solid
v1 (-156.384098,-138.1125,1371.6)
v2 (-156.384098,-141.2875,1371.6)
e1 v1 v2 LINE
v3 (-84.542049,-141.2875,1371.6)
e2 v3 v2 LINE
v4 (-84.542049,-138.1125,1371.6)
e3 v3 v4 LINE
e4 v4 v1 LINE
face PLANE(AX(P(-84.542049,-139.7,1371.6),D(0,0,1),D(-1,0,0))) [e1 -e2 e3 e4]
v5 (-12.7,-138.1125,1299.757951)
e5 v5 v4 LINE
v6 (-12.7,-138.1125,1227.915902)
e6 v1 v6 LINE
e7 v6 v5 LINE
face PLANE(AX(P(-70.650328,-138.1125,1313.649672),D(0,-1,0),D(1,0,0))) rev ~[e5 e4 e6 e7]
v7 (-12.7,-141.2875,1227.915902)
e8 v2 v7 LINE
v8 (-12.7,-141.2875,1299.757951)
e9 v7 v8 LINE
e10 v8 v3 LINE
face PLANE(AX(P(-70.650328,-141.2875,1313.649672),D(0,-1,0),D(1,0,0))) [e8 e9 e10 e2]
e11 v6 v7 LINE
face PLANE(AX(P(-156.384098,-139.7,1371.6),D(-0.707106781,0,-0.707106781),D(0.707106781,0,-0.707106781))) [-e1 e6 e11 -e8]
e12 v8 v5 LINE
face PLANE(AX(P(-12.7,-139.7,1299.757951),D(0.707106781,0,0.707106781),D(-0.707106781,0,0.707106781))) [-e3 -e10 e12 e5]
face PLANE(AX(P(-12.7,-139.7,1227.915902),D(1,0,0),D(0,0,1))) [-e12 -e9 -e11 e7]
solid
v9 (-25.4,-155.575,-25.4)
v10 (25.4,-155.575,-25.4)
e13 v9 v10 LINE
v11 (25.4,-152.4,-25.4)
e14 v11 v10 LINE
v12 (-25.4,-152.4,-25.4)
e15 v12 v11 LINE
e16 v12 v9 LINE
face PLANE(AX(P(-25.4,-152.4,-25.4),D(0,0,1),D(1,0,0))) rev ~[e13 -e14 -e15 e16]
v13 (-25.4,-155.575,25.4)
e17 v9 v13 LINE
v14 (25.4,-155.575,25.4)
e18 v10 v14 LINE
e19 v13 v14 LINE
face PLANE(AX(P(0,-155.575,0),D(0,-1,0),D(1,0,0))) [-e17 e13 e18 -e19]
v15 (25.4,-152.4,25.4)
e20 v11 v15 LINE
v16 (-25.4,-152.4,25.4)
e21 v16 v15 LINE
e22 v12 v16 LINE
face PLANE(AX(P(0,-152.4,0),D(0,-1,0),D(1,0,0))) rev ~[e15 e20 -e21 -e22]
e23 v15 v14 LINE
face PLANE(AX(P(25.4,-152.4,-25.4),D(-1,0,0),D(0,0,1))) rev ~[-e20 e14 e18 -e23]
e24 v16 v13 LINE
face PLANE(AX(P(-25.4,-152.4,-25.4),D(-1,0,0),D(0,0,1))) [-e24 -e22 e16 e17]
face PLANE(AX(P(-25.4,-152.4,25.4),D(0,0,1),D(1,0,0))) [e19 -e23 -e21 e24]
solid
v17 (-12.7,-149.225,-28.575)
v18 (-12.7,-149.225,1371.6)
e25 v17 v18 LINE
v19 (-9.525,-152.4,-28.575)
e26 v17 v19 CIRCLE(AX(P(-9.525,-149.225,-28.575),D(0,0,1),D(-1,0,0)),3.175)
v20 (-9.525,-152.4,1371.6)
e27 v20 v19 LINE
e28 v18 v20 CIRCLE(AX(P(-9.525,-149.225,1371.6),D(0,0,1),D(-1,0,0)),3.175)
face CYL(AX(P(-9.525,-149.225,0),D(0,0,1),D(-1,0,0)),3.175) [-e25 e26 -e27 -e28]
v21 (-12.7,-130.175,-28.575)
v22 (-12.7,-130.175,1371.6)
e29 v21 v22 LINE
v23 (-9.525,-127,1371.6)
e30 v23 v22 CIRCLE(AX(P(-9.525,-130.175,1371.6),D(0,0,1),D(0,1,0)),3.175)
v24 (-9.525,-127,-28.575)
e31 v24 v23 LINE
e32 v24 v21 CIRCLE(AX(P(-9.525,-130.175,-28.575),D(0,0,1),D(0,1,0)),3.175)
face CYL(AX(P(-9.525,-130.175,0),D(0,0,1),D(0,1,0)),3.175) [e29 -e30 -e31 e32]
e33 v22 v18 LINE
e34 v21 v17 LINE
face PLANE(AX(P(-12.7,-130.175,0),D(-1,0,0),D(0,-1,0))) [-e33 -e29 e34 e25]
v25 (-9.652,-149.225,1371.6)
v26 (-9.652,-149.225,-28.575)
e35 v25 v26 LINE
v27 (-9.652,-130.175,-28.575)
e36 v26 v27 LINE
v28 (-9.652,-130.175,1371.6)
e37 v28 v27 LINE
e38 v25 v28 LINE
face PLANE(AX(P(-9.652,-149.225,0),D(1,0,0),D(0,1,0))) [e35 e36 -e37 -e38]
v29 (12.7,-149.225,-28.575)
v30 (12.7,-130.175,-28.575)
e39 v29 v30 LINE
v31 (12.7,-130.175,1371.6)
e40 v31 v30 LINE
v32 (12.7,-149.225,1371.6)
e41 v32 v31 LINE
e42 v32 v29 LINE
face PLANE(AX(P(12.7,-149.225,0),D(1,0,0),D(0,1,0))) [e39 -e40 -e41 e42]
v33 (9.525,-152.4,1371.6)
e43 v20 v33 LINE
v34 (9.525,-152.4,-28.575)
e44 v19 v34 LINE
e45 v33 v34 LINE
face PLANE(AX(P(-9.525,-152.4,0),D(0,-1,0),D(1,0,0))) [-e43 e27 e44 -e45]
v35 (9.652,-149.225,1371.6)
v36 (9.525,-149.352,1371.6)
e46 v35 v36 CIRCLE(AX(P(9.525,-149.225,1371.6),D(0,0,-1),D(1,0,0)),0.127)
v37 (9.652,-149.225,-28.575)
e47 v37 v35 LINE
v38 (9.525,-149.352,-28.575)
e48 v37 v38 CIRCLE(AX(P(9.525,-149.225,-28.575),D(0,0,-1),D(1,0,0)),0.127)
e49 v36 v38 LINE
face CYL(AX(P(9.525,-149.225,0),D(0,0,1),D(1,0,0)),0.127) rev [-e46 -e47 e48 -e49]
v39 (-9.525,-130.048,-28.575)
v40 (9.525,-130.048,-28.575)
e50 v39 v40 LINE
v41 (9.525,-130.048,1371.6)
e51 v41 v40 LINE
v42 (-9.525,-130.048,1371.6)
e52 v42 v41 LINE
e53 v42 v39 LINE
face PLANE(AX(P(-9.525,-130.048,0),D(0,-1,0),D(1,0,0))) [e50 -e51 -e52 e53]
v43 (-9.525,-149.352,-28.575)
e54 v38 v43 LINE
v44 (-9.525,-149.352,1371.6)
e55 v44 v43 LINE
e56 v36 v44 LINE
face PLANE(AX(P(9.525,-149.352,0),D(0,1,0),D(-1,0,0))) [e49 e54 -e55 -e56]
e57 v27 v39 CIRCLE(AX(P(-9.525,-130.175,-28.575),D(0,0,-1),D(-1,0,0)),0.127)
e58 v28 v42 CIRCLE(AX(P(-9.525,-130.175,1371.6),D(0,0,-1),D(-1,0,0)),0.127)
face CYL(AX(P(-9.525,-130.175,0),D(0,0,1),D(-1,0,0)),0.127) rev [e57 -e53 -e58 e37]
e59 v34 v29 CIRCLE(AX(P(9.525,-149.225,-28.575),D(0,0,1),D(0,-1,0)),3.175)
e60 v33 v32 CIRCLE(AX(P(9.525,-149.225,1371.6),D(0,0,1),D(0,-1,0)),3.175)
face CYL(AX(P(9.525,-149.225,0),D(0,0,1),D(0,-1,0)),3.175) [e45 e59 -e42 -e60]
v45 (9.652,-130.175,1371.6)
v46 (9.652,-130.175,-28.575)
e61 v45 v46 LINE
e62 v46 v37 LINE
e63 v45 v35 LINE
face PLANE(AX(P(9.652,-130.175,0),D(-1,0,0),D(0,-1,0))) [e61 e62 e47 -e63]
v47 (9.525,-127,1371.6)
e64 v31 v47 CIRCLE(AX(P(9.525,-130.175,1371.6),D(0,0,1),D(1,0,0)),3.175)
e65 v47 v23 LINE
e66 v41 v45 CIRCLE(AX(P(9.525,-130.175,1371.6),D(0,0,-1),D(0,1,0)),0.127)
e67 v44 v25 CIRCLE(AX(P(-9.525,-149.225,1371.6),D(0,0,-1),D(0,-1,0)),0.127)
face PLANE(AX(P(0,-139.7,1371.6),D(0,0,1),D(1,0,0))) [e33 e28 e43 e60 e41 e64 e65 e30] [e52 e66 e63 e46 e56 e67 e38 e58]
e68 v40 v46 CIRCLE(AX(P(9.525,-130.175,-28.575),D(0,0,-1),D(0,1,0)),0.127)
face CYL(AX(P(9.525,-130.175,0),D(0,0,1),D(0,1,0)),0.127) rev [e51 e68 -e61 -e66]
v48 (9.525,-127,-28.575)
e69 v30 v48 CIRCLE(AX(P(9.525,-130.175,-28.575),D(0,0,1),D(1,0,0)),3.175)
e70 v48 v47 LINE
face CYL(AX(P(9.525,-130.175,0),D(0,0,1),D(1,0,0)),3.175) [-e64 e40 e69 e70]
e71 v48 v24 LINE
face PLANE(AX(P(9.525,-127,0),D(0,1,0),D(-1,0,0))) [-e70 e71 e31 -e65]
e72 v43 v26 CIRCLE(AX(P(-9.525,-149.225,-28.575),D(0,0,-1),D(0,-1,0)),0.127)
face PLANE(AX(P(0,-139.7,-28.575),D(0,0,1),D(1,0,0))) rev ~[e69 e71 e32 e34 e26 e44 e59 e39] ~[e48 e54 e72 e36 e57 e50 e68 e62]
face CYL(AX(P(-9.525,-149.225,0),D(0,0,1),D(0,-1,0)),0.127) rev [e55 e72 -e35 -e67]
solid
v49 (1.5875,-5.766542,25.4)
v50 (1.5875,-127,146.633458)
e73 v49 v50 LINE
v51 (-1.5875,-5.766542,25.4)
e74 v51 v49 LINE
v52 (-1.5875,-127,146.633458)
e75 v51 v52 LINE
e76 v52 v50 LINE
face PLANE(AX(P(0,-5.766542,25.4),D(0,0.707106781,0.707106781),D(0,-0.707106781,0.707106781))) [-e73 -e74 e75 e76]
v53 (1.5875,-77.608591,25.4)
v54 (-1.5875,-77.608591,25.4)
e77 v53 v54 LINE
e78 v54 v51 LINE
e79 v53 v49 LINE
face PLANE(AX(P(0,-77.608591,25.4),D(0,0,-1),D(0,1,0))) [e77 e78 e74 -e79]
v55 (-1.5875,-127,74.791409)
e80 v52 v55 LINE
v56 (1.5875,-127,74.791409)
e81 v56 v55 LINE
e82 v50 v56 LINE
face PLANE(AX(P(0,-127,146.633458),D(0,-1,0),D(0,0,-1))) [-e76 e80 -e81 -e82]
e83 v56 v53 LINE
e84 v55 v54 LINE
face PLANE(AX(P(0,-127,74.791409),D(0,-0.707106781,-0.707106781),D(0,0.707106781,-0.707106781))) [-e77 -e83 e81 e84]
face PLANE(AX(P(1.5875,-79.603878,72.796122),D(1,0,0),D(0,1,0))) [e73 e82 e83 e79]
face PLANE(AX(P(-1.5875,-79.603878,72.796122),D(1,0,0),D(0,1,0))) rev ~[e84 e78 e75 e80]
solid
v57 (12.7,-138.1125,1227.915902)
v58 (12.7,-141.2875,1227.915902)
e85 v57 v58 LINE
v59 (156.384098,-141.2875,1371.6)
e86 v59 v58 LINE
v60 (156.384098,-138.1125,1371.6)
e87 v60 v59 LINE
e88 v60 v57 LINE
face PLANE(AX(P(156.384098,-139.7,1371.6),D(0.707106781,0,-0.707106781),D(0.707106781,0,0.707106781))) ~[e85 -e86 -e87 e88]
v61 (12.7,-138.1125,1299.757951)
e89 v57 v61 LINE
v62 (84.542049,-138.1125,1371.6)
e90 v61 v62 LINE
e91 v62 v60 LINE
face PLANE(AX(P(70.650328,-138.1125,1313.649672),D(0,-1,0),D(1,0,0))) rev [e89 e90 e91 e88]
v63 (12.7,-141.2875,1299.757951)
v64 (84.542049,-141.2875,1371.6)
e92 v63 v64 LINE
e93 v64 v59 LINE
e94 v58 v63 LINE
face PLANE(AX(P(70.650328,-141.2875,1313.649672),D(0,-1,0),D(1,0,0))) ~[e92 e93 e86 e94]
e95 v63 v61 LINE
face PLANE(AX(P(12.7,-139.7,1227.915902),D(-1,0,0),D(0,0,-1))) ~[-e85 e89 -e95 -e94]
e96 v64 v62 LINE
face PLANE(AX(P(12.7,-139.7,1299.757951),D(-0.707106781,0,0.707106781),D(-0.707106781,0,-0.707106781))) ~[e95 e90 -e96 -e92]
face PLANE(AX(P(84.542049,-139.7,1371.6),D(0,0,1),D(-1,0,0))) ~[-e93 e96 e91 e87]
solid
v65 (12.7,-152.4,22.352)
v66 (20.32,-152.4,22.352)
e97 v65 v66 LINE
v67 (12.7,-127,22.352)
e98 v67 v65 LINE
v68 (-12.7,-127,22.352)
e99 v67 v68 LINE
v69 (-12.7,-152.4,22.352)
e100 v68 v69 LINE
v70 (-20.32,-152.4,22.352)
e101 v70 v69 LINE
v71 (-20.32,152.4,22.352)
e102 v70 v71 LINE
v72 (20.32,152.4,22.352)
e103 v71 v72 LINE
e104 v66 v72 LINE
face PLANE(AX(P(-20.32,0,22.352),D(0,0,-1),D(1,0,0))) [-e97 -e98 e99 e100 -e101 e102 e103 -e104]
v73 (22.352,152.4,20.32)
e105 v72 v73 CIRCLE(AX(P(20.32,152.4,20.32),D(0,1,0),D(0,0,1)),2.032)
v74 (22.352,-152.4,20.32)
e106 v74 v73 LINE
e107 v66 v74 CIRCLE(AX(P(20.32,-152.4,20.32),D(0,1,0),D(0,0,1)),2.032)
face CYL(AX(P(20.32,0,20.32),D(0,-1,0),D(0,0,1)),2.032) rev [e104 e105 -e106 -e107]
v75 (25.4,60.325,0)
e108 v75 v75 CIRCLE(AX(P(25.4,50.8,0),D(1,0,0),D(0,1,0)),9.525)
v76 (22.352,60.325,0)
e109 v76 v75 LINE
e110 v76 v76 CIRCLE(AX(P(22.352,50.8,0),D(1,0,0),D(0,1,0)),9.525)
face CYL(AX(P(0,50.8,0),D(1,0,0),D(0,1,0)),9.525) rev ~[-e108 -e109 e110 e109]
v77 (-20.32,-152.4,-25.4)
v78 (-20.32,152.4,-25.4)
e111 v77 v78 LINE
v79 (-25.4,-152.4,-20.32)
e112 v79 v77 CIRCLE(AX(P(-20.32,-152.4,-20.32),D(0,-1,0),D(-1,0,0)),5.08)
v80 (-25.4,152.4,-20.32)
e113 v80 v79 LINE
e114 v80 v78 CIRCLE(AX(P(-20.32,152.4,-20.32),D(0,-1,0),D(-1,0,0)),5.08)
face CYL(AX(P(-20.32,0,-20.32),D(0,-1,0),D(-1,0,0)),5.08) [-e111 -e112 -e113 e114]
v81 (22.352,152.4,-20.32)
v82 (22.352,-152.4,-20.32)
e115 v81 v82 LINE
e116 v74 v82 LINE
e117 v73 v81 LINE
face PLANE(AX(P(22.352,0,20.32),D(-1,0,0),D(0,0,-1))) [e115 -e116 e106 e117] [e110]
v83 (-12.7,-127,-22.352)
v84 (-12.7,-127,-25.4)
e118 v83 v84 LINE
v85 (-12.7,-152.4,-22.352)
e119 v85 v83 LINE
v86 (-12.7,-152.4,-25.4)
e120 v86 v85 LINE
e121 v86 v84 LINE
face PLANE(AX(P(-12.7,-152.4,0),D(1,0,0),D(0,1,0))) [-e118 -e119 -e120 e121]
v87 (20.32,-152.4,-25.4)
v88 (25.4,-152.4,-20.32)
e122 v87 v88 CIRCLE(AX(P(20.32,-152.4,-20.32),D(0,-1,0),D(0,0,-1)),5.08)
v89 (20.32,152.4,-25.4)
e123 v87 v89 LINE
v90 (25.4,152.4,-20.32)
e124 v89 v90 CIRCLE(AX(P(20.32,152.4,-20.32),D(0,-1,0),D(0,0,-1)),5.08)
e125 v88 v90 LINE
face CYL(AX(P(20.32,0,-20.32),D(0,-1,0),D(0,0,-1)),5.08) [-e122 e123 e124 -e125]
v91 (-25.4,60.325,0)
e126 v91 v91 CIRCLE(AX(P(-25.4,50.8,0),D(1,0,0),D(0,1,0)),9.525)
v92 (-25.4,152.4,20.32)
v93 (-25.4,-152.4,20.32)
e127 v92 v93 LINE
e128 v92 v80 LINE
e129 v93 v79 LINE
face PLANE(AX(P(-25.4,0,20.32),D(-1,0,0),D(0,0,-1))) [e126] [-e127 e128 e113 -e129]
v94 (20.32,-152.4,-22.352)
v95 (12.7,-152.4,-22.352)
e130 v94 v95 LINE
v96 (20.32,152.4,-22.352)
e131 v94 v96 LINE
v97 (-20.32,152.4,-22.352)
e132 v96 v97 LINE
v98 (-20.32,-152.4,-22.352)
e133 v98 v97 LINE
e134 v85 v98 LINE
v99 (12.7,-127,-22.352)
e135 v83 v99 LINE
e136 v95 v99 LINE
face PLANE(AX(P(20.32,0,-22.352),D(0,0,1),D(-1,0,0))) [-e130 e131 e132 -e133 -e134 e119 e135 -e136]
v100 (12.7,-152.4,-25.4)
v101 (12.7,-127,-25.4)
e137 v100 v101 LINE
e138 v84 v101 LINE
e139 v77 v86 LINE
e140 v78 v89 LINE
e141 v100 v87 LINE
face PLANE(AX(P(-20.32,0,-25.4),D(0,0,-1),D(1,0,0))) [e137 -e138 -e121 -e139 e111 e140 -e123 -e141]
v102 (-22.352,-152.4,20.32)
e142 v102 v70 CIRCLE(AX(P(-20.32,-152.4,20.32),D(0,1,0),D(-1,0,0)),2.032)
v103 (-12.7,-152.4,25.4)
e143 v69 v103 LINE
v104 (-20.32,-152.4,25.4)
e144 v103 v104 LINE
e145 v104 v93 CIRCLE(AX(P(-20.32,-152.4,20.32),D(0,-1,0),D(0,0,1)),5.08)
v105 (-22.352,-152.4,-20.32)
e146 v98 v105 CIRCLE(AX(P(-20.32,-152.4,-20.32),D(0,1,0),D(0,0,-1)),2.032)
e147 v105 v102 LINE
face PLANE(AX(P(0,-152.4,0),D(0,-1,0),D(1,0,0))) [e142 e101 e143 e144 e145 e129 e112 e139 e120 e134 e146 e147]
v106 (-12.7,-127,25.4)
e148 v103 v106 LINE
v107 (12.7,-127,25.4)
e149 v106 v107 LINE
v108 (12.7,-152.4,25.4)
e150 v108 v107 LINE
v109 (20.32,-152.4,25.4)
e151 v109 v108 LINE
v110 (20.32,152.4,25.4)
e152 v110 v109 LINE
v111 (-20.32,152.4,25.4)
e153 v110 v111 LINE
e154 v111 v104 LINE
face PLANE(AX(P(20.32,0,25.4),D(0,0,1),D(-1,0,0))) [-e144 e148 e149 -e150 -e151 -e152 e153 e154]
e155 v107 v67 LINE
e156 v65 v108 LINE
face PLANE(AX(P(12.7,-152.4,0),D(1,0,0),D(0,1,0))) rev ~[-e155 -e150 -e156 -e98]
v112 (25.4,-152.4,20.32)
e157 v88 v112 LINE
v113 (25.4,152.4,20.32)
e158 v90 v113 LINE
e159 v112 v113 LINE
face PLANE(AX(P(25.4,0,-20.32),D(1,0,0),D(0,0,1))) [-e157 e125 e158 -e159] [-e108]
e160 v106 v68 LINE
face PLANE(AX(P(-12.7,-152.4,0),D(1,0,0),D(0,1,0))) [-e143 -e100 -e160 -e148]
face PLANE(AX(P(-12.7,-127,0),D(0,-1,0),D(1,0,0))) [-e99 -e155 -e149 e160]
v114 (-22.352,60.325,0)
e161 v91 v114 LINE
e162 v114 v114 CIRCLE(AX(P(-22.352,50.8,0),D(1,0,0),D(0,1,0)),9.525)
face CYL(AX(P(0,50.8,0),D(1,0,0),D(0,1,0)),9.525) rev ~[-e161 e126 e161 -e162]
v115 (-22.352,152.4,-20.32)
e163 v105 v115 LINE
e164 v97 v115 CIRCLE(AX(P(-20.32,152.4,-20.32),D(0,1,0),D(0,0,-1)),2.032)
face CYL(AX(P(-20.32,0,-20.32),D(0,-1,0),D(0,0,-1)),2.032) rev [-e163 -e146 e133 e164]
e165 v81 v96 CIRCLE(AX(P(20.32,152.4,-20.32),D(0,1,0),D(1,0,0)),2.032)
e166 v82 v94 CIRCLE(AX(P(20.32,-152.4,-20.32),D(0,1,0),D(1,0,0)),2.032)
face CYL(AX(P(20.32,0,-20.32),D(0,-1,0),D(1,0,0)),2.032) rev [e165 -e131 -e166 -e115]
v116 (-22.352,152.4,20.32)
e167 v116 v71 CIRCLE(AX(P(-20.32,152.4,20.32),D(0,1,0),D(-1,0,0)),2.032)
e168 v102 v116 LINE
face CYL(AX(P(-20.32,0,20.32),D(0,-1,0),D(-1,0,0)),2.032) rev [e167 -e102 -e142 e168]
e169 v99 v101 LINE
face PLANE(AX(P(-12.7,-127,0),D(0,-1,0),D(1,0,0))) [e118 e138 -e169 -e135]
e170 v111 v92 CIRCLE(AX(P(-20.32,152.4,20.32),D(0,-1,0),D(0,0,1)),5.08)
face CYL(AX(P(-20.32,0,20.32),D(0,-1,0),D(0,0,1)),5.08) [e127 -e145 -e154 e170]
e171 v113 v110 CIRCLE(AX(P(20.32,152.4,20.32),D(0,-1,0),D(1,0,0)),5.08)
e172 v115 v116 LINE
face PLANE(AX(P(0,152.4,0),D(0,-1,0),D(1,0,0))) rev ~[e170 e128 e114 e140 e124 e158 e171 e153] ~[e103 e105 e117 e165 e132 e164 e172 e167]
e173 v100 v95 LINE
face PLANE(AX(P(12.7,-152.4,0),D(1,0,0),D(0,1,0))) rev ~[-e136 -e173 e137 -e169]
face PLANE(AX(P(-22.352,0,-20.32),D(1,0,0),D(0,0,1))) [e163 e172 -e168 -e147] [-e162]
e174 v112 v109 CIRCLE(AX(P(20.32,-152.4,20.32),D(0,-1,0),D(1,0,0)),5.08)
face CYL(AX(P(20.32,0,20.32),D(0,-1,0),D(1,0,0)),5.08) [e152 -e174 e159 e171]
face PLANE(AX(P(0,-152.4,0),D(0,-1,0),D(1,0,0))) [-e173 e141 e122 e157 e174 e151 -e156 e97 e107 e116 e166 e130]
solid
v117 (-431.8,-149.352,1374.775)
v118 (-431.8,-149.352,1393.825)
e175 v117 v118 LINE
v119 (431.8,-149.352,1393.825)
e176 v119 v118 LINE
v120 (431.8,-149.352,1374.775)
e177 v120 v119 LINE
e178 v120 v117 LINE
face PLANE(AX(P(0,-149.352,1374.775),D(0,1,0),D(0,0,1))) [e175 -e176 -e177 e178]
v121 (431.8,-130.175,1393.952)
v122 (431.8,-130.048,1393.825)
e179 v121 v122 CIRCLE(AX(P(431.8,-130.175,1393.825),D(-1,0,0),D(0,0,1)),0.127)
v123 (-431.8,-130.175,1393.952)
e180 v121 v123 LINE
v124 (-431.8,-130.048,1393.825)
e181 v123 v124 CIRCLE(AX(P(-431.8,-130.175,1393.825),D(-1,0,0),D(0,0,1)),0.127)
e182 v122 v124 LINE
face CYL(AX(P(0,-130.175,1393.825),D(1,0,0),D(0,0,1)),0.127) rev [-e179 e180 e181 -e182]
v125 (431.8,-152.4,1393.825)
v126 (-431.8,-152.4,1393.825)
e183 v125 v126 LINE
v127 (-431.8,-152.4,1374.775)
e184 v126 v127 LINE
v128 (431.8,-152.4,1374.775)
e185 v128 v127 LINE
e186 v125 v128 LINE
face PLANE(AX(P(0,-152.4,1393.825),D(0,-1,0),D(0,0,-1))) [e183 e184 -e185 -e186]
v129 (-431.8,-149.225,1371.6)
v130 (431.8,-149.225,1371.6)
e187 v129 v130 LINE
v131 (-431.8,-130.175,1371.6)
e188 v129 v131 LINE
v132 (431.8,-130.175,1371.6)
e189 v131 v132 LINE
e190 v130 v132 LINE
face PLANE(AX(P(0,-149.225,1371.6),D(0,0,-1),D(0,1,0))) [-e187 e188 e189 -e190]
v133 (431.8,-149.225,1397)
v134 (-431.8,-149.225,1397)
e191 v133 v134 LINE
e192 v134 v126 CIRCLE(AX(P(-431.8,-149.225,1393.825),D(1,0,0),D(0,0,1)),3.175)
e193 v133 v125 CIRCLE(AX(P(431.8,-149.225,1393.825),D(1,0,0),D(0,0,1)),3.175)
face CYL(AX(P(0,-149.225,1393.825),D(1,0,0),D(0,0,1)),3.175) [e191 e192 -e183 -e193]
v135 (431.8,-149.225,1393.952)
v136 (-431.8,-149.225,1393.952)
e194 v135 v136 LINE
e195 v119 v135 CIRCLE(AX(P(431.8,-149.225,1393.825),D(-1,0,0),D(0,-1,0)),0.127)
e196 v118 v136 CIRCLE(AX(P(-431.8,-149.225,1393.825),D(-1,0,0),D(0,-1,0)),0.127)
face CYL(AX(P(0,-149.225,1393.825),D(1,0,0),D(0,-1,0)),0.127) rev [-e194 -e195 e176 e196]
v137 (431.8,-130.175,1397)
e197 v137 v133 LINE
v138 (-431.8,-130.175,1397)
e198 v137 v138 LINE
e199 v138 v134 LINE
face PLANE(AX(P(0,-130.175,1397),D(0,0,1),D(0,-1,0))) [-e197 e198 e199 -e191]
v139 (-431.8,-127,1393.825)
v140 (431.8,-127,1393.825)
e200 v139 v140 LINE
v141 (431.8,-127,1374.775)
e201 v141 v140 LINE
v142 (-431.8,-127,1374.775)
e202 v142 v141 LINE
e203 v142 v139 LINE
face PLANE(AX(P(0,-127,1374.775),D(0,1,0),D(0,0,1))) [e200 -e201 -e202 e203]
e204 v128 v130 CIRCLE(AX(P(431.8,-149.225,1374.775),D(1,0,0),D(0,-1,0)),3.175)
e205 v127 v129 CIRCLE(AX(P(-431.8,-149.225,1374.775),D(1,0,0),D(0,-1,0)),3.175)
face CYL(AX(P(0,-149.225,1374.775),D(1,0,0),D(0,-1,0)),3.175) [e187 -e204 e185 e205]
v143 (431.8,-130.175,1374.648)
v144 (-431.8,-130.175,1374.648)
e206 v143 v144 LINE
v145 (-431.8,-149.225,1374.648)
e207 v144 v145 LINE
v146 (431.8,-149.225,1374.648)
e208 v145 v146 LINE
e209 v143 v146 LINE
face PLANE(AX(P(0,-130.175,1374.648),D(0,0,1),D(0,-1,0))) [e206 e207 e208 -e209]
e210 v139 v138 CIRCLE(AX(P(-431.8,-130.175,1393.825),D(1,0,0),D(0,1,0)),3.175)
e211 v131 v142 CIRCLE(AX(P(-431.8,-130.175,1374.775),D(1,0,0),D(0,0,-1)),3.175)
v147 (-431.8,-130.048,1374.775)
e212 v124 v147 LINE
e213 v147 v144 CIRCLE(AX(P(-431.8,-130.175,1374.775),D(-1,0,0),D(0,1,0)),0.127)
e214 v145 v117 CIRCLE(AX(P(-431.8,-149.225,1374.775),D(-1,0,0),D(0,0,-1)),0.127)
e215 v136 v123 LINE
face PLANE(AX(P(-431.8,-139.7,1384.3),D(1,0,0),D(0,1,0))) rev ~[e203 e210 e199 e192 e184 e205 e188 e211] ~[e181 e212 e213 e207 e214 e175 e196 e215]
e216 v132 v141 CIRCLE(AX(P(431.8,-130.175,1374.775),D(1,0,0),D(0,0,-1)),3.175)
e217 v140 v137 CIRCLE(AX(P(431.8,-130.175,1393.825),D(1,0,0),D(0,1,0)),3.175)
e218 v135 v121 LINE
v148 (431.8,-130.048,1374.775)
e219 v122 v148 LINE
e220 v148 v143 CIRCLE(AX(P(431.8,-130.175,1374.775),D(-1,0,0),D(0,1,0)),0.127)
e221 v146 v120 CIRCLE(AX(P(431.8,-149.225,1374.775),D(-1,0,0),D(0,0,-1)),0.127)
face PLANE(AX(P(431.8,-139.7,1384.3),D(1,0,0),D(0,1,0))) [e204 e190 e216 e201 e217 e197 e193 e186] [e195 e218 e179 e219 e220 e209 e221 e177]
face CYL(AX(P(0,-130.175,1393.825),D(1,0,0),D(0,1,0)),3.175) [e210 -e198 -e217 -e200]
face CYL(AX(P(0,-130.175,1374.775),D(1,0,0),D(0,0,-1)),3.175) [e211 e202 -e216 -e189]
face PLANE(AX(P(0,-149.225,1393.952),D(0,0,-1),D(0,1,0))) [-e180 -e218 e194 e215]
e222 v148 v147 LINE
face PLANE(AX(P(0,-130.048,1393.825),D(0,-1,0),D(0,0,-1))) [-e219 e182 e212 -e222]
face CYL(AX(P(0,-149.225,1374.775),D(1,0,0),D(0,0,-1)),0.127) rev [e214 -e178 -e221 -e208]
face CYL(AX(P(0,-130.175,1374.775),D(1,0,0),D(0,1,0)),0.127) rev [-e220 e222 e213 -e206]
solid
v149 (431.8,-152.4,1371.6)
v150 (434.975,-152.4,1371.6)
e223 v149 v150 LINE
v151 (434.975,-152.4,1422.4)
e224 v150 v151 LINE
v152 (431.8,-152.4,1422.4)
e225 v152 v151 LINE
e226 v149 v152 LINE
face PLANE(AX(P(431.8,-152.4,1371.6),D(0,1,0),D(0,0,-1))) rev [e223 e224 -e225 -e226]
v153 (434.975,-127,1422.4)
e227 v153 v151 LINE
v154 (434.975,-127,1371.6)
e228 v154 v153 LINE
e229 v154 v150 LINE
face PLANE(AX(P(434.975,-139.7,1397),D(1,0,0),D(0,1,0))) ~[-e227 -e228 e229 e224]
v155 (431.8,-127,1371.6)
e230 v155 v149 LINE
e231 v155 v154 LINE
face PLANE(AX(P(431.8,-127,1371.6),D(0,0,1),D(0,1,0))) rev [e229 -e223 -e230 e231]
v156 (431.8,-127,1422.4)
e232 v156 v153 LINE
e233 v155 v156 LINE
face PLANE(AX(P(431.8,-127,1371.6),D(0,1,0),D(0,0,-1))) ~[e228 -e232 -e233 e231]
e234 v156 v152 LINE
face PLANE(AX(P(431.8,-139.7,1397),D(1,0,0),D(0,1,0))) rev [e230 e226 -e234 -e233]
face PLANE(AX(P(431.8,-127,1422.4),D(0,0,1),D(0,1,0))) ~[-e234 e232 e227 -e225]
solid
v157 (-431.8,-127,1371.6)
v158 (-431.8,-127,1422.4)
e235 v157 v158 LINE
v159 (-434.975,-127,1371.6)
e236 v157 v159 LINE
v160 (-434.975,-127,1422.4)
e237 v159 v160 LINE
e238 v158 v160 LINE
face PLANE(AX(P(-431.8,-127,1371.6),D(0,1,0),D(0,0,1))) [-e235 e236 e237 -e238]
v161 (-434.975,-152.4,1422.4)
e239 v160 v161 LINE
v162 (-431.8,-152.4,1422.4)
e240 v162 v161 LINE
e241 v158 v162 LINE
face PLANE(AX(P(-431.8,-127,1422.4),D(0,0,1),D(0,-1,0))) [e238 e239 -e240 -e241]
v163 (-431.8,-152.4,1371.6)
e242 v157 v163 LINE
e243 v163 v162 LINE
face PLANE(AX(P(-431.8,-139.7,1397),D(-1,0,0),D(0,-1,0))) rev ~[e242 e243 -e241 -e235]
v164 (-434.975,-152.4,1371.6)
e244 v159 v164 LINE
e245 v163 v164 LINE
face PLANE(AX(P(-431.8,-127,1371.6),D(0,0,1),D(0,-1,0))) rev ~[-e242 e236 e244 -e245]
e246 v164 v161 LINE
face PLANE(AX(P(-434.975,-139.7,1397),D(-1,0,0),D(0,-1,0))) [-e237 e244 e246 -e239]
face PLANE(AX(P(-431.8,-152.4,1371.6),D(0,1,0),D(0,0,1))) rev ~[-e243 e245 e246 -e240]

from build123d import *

# Parameters (mm, degrees)
F1_DEPTH  = 152.4
F2_W      = 25.4
F2_H      = 25.4
F3_DEPTH  = 25.4
F6_DEPTH  = 1371.6
F7_DEPTH  = 28.575
F4_R      = 9.525
F8_DEPTH  = 25.4
F9_W      = 50.8
F9_H      = 50.8
F10_DEPTH = 3.175
F12_DEPTH = 1.5875
F14_DEPTH = 431.8
F17_DEPTH = 1.5875
F19_W     = 25.4
F19_H     = 50.8
F20_DEPTH = 3.175


with BuildPart() as f1:
    # F0 (on Front) → F1 (new body, symmetric)
    with BuildSketch(Plane.XZ):
        with BuildLine():
            ThreePointArc((25.4, 20.32), (23.9121024484, 23.9121024484), (20.32, 25.4))
            Line((20.32, 25.4), (-20.32, 25.4))
            ThreePointArc((-20.32, 25.4), (-23.9121024484, 23.9121024484), (-25.4, 20.32))
            Line((-25.4, 20.32), (-25.4, -20.32))
            ThreePointArc((-25.4, -20.32), (-23.9121024484, -23.9121024484), (-20.32, -25.4))
            Line((-20.32, -25.4), (20.32, -25.4))
            ThreePointArc((20.32, -25.4), (23.9121024484, -23.9121024484), (25.4, -20.32))
            Line((25.4, -20.32), (25.4, 20.32))
        make_face()
        with BuildLine():
            ThreePointArc((22.352, -20.32), (21.7568409794, -21.7568409794), (20.32, -22.352))
            Line((20.32, -22.352), (-20.32, -22.352))
            ThreePointArc((-20.32, -22.352), (-21.7568409794, -21.7568409794), (-22.352, -20.32))
            Line((-22.352, -20.32), (-22.352, 20.32))
            ThreePointArc((-22.352, 20.32), (-21.7568409794, 21.7568409794), (-20.32, 22.352))
            Line((-20.32, 22.352), (20.32, 22.352))
            ThreePointArc((20.32, 22.352), (21.7568409794, 21.7568409794), (22.352, 20.32))
            Line((22.352, 20.32), (22.352, -20.32))
        make_face(mode=Mode.SUBTRACT)
    extrude(amount=F1_DEPTH, both=True)

    # F2 (on Top) → F3 (cut, symmetric)
    with BuildSketch(Plane.XY):
        with Locations((0, -139.7)):
            Rectangle(F2_W, F2_H)
    extrude(amount=F3_DEPTH, both=True, mode=Mode.SUBTRACT)

    # F4 (on Right) → F8 (cut, symmetric)
    with BuildSketch(Plane.YZ):
        with Locations((50.8, 0)):
            Circle(F4_R)
    extrude(amount=F8_DEPTH, both=True, mode=Mode.SUBTRACT)


with BuildPart() as f6:
    # F5 (on Top) → F6 (new body)
    with BuildSketch(Plane.XY):
        with BuildLine():
            ThreePointArc((12.7, -130.175), (11.7700640303, -127.9299359697), (9.525, -127))
            Line((9.525, -127), (-9.525, -127))
            ThreePointArc((-9.525, -127), (-11.7700640303, -127.9299359697), (-12.7, -130.175))
            Line((-12.7, -130.175), (-12.7, -149.225))
            ThreePointArc((-12.7, -149.225), (-11.7700640303, -151.4700640303), (-9.525, -152.4))
            Line((-9.525, -152.4), (9.525, -152.4))
            ThreePointArc((9.525, -152.4), (11.7700640303, -151.4700640303), (12.7, -149.225))
            Line((12.7, -149.225), (12.7, -130.175))
        make_face()
        with BuildLine():
            ThreePointArc((9.652, -149.225), (9.6148025612, -149.3148025612), (9.525, -149.352))
            Line((9.525, -149.352), (-9.525, -149.352))
            ThreePointArc((-9.525, -149.352), (-9.6148025612, -149.3148025612), (-9.652, -149.225))
            Line((-9.652, -149.225), (-9.652, -130.175))
            ThreePointArc((-9.652, -130.175), (-9.6148025612, -130.0851974388), (-9.525, -130.048))
            Line((-9.525, -130.048), (9.525, -130.048))
            ThreePointArc((9.525, -130.048), (9.6148025612, -130.0851974388), (9.652, -130.175))
            Line((9.652, -130.175), (9.652, -149.225))
        make_face(mode=Mode.SUBTRACT)
    extrude(amount=F6_DEPTH)

    # F5 (on Top) → F7 (join)
    with BuildSketch(Plane.XY):
        with BuildLine():
            ThreePointArc((12.7, -130.175), (11.7700640303, -127.9299359697), (9.525, -127))
            Line((9.525, -127), (-9.525, -127))
            ThreePointArc((-9.525, -127), (-11.7700640303, -127.9299359697), (-12.7, -130.175))
            Line((-12.7, -130.175), (-12.7, -149.225))
            ThreePointArc((-12.7, -149.225), (-11.7700640303, -151.4700640303), (-9.525, -152.4))
            Line((-9.525, -152.4), (9.525, -152.4))
            ThreePointArc((9.525, -152.4), (11.7700640303, -151.4700640303), (12.7, -149.225))
            Line((12.7, -149.225), (12.7, -130.175))
        make_face()
        with BuildLine():
            ThreePointArc((9.652, -149.225), (9.6148025612, -149.3148025612), (9.525, -149.352))
            Line((9.525, -149.352), (-9.525, -149.352))
            ThreePointArc((-9.525, -149.352), (-9.6148025612, -149.3148025612), (-9.652, -149.225))
            Line((-9.652, -149.225), (-9.652, -130.175))
            ThreePointArc((-9.652, -130.175), (-9.6148025612, -130.0851974388), (-9.525, -130.048))
            Line((-9.525, -130.048), (9.525, -130.048))
            ThreePointArc((9.525, -130.048), (9.6148025612, -130.0851974388), (9.652, -130.175))
            Line((9.652, -130.175), (9.652, -149.225))
        make_face(mode=Mode.SUBTRACT)
    extrude(amount=-F7_DEPTH)


with BuildPart() as f10:
    # F9 (on face) → F10 (new body)
    with BuildSketch(Plane.XZ.offset(152.4)):
        Rectangle(F9_W, F9_H)
    extrude(amount=F10_DEPTH)


with BuildPart() as f12:
    # F11 (on Right) → F12 (new body, symmetric)
    with BuildSketch(Plane.YZ):
        Polygon((-77.6085913341, 25.4), (-5.7665423656, 25.4), (-127, 146.6334576344), (-127, 74.7914086659), align=None)
    extrude(amount=F12_DEPTH, both=True)


with BuildPart() as f14:
    # F13 (on Right) → F14 (new body, symmetric)
    with BuildSketch(Plane.YZ):
        with BuildLine():
            ThreePointArc((-152.4, 1374.775), (-151.4700640303, 1372.5299359697), (-149.225, 1371.6))
            Line((-149.225, 1371.6), (-130.175, 1371.6))
            ThreePointArc((-130.175, 1371.6), (-127.9299359697, 1372.5299359697), (-127, 1374.775))
            Line((-127, 1374.775), (-127, 1393.825))
            ThreePointArc((-127, 1393.825), (-127.9299359697, 1396.0700640303), (-130.175, 1397))
            Line((-130.175, 1397), (-149.225, 1397))
            ThreePointArc((-149.225, 1397), (-151.4700640303, 1396.0700640303), (-152.4, 1393.825))
            Line((-152.4, 1393.825), (-152.4, 1374.775))
        make_face()
        with BuildLine():
            ThreePointArc((-149.225, 1374.648), (-149.3148025612, 1374.6851974388), (-149.352, 1374.775))
            Line((-149.352, 1374.775), (-149.352, 1393.825))
            ThreePointArc((-149.352, 1393.825), (-149.3148025612, 1393.9148025612), (-149.225, 1393.952))
            Line((-149.225, 1393.952), (-130.175, 1393.952))
            ThreePointArc((-130.175, 1393.952), (-130.0851974388, 1393.9148025612), (-130.048, 1393.825))
            Line((-130.048, 1393.825), (-130.048, 1374.775))
            ThreePointArc((-130.048, 1374.775), (-130.0851974388, 1374.6851974388), (-130.175, 1374.648))
            Line((-130.175, 1374.648), (-149.225, 1374.648))
        make_face(mode=Mode.SUBTRACT)
    extrude(amount=F14_DEPTH, both=True)


with BuildPart() as f17:
    # F16 (on offset) → F17 (new body, symmetric)
    with BuildSketch(Plane.XZ.offset(139.7)):
        Polygon((-84.5420489686, 1371.6), (-156.3840979371, 1371.6), (-12.7, 1227.9159020629), (-12.7, 1299.7579510314), align=None)
    extrude(amount=F17_DEPTH, both=True)


with BuildPart() as f18_1:
    # F18: instance of F17
    add(f17.part.mirror(Plane.YZ))


with BuildPart() as f20:
    # F19 (on face) → F20 (new body)
    with BuildSketch(Plane(origin=(-431.8, 0, 0), x_dir=(0, -1, 0), z_dir=(-1, 0, 0))):
        with Locations((139.7, 1397)):
            Rectangle(F19_W, F19_H)
    extrude(amount=F20_DEPTH)


with BuildPart() as f21_1:
    # F21: instance of F20
    add(f20.part.mirror(Plane.YZ))


solid = Compound([f1.part, f6.part, f10.part, f12.part, f14.part, f17.part, f18_1.part, f20.part, f21_1.part])
